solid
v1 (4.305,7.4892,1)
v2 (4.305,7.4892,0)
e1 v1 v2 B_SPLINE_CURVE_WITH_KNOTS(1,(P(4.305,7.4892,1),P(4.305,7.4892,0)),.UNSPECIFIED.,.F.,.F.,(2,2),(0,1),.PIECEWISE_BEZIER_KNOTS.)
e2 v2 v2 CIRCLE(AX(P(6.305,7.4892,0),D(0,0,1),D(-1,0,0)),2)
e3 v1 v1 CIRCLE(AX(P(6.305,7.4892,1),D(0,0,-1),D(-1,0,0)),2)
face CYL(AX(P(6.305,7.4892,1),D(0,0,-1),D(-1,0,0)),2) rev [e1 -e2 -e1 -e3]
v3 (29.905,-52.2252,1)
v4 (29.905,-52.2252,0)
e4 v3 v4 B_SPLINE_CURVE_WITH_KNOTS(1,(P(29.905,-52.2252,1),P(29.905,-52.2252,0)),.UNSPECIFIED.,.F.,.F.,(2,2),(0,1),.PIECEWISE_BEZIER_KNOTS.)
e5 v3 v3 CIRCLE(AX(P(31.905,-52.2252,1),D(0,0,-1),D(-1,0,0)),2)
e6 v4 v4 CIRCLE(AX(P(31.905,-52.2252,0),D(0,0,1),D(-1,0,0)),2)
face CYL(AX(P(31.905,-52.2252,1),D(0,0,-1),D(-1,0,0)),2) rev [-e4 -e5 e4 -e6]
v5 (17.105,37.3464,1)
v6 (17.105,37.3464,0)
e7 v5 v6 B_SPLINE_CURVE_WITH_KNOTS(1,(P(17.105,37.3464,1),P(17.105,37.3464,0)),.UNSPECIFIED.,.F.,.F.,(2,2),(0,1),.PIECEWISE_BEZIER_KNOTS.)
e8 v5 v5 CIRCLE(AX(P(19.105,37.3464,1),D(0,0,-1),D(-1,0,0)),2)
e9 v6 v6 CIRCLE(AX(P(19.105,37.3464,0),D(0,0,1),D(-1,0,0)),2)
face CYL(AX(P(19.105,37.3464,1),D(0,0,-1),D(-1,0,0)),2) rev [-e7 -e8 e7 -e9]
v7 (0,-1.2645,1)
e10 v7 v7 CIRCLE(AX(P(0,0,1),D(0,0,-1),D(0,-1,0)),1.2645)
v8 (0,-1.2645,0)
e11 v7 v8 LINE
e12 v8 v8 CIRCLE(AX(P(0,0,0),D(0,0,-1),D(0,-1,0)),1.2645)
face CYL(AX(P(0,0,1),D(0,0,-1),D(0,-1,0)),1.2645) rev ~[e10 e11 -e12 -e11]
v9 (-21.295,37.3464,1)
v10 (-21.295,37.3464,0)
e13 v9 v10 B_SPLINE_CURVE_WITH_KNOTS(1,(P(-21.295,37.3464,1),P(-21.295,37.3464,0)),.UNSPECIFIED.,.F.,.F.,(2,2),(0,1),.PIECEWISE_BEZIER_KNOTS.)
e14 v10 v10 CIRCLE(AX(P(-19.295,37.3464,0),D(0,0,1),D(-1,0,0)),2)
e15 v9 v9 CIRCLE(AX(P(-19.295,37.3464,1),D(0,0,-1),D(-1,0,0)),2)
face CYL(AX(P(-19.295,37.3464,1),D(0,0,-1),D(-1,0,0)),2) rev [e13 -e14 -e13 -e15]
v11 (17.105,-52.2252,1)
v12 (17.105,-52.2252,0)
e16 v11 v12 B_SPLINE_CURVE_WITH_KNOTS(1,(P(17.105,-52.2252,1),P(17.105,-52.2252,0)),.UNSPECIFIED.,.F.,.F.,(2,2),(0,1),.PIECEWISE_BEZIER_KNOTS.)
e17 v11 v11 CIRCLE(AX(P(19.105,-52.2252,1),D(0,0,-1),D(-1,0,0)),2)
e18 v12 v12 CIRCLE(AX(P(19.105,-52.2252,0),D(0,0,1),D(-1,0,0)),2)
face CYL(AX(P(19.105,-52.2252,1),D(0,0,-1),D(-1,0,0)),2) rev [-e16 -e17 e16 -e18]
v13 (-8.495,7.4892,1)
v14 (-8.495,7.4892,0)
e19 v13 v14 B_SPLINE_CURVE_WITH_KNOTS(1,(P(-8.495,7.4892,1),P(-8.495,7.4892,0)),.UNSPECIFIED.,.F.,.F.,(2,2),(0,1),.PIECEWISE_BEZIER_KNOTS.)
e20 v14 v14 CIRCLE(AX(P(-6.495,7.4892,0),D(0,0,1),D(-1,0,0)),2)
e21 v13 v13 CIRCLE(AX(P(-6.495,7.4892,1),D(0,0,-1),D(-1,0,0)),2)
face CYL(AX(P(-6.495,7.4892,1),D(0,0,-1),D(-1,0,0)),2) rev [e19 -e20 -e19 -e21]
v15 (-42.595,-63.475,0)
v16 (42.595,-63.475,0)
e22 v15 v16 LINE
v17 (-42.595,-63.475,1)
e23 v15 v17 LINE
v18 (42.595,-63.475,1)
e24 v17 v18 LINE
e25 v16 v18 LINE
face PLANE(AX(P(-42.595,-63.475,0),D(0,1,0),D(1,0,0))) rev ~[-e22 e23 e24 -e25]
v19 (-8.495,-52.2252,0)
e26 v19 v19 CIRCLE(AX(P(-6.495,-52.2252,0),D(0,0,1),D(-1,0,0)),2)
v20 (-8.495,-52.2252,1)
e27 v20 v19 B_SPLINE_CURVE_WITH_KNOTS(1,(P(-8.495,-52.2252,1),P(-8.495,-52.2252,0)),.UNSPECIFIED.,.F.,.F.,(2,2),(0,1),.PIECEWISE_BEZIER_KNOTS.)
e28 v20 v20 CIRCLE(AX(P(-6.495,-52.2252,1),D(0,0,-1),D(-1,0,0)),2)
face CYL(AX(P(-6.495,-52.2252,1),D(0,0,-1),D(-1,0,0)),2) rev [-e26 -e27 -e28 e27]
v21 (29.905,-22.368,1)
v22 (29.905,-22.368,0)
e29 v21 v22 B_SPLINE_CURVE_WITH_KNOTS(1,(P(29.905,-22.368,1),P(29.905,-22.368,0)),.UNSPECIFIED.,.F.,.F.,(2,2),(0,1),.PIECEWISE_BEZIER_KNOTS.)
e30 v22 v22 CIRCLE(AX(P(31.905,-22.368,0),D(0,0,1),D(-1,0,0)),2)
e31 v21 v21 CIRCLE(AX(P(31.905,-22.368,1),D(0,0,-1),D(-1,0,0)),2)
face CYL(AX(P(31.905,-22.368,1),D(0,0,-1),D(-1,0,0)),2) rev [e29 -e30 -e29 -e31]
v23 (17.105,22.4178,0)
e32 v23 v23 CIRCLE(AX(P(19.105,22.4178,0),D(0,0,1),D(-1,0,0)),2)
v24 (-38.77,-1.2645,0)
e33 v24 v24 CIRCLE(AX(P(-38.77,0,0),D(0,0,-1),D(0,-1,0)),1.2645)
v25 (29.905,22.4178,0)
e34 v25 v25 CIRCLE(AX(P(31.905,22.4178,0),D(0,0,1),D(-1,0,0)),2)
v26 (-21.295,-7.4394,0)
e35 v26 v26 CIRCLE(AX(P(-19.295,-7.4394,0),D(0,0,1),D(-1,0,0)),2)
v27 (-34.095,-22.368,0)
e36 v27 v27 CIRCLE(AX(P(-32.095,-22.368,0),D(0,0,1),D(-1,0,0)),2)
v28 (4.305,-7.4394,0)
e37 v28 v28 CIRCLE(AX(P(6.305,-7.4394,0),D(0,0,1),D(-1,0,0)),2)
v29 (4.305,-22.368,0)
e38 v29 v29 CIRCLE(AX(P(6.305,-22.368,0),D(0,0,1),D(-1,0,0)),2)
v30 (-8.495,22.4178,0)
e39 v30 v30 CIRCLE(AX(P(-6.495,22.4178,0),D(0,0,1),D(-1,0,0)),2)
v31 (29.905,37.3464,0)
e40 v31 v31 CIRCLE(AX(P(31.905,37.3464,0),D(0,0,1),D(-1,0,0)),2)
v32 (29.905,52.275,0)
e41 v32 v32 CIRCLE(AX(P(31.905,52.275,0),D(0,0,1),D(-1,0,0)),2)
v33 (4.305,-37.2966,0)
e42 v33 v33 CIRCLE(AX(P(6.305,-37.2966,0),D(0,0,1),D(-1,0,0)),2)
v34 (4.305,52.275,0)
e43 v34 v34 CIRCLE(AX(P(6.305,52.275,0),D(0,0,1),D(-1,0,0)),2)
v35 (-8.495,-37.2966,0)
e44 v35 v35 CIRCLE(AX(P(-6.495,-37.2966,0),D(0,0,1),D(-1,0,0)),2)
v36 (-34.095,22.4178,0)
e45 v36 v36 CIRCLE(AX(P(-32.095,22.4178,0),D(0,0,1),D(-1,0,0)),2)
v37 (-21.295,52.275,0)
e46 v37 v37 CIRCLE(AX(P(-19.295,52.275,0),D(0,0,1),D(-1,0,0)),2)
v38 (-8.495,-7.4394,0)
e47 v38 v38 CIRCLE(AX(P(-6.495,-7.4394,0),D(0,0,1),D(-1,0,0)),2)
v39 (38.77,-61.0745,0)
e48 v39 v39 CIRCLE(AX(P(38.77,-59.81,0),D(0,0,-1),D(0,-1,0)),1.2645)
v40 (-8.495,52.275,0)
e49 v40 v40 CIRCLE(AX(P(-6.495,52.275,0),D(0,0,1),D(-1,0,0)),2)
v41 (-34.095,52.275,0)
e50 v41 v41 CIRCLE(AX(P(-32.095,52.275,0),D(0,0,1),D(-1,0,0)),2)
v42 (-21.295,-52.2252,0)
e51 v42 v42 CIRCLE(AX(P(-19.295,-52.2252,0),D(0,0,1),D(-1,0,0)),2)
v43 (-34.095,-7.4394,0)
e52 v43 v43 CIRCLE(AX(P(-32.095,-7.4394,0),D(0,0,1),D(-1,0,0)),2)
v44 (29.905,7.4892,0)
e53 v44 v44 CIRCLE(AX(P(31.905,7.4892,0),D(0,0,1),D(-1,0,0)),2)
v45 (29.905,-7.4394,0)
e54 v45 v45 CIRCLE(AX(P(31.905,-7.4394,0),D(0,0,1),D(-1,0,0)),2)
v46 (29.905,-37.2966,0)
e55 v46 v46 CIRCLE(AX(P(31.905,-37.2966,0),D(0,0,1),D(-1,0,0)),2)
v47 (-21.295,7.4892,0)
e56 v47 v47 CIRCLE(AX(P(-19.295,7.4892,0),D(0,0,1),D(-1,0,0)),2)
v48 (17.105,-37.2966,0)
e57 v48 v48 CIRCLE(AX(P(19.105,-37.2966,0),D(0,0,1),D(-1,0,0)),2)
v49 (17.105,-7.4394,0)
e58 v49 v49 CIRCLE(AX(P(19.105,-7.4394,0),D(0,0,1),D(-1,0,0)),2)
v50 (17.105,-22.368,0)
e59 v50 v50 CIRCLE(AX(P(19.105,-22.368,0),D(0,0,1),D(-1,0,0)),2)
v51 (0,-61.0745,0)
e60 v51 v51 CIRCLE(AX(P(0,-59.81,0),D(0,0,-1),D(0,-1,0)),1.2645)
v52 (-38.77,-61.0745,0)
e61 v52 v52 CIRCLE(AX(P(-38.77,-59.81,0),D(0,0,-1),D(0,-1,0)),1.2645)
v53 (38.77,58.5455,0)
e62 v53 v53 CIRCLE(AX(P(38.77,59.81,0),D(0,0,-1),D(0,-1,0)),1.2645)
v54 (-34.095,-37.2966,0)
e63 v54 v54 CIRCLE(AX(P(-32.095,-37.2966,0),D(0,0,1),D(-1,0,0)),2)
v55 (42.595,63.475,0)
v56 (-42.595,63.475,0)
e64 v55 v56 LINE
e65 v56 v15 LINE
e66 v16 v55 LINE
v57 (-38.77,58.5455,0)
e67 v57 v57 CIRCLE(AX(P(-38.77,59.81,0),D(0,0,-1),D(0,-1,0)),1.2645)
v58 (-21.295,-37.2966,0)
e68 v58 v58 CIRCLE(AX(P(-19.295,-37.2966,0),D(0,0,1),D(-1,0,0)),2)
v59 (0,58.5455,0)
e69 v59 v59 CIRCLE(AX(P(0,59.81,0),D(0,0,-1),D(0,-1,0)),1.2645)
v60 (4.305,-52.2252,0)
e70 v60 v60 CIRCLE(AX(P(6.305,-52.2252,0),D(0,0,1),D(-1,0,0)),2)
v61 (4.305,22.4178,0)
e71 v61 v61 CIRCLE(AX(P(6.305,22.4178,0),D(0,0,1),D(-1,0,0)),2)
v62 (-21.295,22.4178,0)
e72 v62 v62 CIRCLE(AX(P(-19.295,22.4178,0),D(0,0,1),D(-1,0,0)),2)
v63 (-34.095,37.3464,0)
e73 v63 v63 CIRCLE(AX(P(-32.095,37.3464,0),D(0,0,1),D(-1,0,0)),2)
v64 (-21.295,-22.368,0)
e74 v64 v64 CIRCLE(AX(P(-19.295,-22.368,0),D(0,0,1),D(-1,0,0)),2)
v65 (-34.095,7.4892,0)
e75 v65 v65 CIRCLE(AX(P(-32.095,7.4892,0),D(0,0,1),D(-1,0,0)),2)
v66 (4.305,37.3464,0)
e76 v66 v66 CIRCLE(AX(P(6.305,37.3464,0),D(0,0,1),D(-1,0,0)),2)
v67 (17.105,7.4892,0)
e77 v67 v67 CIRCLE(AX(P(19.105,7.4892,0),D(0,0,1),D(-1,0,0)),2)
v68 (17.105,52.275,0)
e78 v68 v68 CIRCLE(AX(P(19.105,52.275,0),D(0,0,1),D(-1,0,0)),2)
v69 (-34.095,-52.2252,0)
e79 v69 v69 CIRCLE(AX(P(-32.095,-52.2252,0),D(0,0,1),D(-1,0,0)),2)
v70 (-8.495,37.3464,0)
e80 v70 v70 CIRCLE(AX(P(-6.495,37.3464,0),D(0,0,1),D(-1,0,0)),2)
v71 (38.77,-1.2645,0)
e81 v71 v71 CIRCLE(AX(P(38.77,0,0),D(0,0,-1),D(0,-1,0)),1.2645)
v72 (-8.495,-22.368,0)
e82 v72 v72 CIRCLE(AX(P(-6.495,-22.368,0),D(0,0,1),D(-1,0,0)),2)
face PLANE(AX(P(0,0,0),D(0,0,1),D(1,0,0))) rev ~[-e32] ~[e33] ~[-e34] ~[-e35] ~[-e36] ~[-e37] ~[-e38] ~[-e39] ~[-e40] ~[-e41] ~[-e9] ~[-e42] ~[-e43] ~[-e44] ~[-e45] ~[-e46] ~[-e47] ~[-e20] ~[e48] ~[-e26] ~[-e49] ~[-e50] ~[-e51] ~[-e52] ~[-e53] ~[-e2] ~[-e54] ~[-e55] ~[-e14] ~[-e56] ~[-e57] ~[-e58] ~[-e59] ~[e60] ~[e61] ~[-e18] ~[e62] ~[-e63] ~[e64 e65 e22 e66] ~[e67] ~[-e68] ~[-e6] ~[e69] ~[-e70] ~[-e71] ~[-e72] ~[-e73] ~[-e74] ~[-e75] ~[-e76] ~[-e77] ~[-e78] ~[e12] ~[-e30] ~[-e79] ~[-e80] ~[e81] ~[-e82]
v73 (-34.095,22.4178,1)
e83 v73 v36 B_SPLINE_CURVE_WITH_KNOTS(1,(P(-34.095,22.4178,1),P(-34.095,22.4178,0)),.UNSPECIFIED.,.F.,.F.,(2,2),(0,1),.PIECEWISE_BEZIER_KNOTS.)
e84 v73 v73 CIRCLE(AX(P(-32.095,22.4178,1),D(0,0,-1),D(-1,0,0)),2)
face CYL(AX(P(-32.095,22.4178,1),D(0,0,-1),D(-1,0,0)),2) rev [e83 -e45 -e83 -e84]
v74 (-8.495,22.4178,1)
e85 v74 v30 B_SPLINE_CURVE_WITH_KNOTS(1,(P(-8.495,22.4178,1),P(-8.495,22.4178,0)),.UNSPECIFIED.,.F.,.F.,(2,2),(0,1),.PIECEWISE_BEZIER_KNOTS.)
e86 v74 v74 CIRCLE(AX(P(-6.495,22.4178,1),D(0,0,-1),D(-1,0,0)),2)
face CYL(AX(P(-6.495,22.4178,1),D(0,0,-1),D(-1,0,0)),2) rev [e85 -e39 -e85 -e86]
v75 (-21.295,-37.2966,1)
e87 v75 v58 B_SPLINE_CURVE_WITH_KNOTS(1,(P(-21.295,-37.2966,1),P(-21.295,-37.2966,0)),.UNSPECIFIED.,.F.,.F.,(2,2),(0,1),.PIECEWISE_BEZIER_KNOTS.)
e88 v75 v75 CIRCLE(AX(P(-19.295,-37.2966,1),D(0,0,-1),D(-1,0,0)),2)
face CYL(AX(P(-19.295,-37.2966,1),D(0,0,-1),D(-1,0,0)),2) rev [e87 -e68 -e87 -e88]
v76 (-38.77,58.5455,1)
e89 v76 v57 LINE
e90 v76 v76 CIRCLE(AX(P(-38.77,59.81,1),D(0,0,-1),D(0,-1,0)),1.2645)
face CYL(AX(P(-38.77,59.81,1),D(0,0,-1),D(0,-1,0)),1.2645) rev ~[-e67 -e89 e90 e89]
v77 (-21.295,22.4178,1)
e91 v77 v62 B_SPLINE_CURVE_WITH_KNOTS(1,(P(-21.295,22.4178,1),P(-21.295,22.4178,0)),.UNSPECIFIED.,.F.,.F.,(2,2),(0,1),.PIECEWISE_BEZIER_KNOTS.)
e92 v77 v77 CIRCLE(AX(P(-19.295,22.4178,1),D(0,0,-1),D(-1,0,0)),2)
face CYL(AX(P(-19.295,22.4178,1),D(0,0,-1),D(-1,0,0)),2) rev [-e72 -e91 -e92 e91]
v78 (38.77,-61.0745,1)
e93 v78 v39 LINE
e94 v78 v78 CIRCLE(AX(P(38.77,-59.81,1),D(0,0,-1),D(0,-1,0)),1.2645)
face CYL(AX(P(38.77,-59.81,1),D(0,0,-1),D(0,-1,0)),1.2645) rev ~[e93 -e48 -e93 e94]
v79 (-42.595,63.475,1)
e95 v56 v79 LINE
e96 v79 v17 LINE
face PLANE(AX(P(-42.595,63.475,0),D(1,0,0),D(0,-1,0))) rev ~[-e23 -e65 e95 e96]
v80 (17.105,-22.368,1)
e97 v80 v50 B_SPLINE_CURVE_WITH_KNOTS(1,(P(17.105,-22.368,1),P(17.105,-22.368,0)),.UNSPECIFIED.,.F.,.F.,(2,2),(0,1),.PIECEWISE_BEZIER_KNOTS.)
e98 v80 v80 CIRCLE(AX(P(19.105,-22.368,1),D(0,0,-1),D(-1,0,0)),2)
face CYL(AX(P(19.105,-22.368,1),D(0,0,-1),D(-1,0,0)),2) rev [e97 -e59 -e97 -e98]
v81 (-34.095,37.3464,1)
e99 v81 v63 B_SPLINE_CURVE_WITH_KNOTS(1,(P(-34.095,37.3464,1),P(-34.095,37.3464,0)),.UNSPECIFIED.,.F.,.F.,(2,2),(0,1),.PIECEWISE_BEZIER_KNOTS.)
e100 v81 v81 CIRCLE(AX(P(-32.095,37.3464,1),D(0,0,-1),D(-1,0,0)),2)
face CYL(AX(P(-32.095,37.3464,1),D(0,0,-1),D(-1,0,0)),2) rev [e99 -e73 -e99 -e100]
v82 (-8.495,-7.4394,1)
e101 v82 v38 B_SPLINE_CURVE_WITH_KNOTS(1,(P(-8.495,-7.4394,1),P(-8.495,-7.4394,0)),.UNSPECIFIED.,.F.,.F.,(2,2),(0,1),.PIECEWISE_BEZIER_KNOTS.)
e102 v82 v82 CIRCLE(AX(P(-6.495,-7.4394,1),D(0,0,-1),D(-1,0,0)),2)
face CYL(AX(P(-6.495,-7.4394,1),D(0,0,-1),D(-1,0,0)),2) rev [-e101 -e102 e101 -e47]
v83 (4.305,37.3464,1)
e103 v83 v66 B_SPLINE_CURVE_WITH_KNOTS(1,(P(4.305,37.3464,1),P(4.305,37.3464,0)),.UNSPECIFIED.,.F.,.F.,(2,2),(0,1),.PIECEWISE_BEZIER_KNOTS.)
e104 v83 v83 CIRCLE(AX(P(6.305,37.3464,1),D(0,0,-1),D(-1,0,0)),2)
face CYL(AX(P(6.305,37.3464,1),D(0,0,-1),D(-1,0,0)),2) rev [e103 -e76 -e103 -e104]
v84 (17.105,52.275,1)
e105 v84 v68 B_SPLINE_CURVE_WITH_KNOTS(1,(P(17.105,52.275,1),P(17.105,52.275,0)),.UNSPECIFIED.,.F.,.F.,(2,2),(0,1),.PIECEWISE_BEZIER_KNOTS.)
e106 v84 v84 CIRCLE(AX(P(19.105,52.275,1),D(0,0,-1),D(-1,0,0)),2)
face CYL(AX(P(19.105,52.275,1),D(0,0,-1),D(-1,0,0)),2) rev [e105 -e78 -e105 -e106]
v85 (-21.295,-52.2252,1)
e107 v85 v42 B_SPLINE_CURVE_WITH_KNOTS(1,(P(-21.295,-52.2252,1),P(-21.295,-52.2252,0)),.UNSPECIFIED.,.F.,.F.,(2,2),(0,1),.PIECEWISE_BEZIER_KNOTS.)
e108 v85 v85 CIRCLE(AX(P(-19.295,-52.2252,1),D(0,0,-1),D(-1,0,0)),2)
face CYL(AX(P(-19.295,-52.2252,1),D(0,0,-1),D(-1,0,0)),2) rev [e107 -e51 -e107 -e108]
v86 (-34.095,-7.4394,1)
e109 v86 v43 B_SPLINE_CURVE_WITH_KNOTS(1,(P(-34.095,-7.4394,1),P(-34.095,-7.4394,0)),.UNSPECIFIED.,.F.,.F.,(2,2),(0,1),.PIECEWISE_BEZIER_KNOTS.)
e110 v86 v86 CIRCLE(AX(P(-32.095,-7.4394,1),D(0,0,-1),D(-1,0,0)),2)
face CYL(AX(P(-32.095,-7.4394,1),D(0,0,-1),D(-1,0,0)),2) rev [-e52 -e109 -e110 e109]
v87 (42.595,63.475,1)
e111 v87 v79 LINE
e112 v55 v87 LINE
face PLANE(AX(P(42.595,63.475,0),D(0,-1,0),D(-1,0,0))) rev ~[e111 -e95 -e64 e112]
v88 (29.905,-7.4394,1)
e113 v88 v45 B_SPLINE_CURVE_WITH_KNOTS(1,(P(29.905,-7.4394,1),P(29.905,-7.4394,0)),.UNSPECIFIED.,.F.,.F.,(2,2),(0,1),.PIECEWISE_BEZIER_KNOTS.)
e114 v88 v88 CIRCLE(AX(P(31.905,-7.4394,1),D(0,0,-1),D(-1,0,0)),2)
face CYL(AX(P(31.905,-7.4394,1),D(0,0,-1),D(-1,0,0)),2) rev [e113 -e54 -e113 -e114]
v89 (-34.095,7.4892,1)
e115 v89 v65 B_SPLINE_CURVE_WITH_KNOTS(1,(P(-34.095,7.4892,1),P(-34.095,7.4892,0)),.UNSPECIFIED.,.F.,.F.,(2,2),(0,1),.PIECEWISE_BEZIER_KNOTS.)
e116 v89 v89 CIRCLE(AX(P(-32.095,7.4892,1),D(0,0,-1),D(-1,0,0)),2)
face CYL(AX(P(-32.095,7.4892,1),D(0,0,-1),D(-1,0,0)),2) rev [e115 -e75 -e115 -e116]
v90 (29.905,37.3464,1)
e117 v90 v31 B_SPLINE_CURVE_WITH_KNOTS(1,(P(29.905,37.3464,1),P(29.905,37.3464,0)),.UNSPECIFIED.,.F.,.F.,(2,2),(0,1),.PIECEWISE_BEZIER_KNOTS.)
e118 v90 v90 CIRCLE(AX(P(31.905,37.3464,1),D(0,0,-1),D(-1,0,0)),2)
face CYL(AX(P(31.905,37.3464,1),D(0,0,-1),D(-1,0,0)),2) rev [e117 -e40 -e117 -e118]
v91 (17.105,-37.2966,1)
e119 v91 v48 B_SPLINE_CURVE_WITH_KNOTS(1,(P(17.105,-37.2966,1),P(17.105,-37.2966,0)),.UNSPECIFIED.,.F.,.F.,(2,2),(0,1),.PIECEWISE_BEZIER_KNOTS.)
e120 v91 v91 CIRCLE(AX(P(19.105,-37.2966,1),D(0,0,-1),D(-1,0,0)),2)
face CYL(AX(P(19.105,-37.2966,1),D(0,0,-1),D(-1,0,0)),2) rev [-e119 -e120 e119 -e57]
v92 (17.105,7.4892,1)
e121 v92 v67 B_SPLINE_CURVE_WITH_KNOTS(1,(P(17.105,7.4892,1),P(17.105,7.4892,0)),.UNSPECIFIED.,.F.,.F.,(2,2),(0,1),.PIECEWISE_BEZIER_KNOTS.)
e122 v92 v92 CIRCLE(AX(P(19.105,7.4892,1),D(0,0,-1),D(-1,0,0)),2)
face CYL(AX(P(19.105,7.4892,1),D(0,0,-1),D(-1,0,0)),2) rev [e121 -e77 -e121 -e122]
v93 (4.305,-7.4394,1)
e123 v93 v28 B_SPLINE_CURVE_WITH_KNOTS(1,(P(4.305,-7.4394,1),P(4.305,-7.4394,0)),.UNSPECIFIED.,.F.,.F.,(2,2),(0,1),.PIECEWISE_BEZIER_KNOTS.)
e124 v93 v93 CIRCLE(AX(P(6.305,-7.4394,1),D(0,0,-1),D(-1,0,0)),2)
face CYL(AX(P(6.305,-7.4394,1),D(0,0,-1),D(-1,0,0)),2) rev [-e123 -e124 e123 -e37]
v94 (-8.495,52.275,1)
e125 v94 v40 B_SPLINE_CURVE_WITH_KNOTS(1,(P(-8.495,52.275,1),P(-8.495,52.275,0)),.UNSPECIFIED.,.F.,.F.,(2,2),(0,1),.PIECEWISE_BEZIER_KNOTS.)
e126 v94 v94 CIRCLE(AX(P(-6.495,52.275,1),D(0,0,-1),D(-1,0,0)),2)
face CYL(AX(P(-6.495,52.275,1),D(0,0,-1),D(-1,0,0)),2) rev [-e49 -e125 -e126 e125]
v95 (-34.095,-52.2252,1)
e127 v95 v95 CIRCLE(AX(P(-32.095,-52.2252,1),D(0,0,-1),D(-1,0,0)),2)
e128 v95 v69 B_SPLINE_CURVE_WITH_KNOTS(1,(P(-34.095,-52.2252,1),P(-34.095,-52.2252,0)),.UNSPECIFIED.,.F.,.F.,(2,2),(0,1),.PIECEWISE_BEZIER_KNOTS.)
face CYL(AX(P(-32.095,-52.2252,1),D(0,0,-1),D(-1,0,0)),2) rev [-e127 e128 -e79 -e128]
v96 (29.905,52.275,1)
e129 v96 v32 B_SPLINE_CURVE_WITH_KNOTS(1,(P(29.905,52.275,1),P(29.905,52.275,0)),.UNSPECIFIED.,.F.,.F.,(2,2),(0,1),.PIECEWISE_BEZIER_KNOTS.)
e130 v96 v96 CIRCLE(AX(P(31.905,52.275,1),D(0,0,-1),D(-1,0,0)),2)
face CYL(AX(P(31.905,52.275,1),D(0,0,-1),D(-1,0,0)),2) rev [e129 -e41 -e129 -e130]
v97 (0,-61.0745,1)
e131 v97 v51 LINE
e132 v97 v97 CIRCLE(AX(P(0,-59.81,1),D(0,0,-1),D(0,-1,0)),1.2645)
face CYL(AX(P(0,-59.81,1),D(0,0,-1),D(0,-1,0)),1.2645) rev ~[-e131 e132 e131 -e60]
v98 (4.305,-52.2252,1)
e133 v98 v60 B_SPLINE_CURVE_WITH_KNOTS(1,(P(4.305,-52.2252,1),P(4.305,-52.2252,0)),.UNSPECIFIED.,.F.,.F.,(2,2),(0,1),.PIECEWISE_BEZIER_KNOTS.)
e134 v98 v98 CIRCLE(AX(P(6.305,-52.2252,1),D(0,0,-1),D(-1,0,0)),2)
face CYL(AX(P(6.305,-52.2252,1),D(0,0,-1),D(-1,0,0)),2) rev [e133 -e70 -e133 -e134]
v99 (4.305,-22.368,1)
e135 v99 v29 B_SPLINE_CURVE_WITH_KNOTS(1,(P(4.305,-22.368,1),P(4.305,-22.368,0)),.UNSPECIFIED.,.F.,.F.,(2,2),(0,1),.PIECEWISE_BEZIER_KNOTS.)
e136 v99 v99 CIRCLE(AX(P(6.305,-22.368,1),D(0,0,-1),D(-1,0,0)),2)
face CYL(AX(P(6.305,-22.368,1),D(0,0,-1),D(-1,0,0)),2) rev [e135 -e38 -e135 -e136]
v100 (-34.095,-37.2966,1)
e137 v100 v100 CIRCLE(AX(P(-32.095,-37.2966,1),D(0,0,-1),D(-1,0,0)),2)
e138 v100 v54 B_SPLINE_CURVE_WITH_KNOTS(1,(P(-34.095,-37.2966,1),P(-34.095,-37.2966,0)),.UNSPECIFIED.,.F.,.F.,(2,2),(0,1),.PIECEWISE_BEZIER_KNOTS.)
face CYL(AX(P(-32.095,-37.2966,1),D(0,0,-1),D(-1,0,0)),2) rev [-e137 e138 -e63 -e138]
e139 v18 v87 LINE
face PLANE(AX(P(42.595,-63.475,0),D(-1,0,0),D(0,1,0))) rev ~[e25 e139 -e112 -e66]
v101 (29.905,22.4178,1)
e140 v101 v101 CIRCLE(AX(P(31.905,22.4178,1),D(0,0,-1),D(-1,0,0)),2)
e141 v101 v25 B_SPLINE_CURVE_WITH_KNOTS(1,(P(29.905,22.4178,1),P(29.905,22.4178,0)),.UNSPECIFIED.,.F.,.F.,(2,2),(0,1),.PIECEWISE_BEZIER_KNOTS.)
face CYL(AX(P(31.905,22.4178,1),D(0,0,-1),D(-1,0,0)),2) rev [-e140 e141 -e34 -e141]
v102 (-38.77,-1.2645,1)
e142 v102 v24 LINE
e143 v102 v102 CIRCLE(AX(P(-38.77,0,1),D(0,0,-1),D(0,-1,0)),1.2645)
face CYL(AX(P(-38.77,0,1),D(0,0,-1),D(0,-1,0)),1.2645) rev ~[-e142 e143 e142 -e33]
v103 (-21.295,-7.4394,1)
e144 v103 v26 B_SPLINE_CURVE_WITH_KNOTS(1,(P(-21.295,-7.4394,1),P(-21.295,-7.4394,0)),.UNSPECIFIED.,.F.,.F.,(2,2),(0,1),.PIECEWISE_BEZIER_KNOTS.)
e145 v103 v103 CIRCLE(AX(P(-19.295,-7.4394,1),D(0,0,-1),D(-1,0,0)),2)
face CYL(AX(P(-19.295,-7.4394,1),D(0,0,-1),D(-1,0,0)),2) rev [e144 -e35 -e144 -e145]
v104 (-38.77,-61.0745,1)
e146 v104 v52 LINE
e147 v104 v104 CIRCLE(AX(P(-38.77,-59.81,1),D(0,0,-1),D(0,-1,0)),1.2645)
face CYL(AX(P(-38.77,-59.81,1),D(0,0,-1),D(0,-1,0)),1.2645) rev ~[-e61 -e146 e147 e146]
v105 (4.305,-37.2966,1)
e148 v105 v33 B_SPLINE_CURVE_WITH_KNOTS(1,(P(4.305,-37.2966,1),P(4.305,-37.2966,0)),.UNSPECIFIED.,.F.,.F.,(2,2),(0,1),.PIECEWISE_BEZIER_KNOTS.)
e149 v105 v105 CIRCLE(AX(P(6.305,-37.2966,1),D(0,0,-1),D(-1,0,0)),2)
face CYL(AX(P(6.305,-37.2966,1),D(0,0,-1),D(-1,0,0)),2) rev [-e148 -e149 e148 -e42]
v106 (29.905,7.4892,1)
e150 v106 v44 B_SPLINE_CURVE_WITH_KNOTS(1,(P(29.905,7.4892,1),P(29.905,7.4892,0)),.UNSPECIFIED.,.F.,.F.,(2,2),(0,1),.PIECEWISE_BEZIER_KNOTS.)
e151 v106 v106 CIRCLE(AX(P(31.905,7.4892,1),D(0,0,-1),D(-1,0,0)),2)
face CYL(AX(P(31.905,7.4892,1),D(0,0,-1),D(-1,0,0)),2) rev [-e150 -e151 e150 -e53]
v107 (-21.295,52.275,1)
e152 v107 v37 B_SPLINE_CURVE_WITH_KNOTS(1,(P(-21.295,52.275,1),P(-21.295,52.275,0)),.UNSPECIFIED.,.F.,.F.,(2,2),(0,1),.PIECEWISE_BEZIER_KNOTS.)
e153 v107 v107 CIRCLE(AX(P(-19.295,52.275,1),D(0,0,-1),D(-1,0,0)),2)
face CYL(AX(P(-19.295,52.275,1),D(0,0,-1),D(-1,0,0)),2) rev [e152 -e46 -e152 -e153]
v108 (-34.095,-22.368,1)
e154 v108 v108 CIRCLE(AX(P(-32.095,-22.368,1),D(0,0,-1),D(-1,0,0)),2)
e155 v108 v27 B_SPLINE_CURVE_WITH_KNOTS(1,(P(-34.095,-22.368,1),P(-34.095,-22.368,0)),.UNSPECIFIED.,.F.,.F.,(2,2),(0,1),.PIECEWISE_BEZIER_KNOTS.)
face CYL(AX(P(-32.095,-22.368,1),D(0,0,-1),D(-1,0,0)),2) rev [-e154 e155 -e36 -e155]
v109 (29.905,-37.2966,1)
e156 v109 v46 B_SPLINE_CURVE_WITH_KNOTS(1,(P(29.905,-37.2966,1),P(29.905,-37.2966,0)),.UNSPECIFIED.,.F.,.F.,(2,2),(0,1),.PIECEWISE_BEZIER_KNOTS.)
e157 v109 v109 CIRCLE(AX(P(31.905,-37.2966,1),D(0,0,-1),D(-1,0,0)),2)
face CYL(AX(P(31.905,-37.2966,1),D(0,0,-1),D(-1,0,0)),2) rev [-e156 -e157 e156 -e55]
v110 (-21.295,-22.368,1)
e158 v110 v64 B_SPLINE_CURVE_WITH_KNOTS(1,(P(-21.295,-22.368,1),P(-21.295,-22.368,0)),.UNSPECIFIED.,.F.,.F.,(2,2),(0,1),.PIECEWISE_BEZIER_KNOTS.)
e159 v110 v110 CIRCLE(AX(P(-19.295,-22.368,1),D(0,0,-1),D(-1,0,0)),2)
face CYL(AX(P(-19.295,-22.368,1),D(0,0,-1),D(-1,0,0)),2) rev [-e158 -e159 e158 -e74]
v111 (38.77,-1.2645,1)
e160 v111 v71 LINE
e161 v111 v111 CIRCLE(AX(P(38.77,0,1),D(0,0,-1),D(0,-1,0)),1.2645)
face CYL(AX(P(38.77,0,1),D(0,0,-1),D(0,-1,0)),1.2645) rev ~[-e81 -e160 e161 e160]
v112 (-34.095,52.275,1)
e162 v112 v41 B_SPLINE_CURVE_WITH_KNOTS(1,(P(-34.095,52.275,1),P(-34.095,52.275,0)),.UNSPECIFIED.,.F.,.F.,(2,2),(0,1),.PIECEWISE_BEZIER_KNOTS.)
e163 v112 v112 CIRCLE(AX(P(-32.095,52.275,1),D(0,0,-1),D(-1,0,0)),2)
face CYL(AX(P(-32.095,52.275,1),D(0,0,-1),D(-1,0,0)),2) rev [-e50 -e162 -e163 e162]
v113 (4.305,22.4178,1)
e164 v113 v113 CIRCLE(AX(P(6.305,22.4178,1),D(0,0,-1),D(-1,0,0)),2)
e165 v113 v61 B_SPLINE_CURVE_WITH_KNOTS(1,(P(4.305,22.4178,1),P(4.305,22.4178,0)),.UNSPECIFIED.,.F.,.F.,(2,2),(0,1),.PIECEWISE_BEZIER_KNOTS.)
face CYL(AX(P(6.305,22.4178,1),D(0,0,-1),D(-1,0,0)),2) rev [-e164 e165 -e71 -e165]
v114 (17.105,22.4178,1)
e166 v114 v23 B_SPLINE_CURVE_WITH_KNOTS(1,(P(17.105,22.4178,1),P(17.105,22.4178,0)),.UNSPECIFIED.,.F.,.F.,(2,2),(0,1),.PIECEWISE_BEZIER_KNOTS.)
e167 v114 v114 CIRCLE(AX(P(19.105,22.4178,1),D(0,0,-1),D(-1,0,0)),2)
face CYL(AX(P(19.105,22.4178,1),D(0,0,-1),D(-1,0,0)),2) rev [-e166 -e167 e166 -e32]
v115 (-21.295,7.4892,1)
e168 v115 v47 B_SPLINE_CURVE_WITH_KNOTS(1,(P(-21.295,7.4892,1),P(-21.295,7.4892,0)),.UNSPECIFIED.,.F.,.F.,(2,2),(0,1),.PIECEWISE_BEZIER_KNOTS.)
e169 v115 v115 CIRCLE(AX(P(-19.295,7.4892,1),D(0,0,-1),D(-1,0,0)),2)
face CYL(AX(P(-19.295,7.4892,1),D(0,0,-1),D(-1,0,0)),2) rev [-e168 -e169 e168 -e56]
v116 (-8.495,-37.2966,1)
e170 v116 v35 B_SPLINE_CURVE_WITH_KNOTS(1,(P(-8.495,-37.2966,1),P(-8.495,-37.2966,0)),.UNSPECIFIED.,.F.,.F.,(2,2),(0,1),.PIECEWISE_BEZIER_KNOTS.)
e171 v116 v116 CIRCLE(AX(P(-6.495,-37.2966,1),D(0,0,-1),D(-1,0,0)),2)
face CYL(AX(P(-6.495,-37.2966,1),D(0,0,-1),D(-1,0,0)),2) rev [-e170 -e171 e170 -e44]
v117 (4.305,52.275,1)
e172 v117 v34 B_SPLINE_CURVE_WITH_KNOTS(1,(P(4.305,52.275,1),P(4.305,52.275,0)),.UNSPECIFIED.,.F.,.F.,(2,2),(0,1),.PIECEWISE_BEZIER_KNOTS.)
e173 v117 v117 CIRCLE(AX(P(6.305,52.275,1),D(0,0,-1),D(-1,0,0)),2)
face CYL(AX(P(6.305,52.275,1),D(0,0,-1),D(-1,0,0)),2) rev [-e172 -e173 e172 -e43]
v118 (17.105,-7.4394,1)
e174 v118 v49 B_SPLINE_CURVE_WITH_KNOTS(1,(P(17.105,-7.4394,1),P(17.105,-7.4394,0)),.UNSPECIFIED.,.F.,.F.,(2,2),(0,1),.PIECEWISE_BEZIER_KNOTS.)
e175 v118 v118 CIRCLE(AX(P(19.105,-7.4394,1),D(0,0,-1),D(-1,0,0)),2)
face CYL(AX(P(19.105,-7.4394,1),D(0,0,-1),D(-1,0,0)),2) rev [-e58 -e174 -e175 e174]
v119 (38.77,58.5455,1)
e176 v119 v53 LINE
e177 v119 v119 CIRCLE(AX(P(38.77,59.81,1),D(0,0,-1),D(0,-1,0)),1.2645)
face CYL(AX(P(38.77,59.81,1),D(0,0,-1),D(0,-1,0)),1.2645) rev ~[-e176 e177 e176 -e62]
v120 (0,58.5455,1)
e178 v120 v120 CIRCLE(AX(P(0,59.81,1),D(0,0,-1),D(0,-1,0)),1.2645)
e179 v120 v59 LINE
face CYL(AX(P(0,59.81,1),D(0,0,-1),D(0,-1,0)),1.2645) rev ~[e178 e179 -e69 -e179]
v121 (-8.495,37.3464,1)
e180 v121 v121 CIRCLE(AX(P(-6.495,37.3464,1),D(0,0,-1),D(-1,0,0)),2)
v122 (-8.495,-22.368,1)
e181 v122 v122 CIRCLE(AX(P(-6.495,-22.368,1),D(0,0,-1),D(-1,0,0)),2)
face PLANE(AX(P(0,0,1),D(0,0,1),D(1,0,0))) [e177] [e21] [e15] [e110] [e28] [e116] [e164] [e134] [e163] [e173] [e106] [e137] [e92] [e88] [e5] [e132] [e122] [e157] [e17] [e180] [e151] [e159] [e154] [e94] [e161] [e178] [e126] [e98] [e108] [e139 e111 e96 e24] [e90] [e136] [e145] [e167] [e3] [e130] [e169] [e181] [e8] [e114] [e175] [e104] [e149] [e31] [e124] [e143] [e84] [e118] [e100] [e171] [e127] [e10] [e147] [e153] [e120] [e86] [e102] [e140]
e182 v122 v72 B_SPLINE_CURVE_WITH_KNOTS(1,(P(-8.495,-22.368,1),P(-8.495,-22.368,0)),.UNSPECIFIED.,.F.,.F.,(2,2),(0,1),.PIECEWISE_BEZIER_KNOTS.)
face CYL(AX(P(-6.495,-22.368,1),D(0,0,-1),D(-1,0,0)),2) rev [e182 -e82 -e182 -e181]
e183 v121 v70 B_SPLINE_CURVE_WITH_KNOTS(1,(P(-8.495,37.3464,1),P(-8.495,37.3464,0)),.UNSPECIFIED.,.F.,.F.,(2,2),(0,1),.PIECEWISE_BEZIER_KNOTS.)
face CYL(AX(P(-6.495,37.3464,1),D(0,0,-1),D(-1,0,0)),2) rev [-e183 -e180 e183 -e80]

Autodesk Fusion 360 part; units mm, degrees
sketch "Sketch1" plane through (0, 0, 0) normal (0, 0, 1) x (1, 0, 0)
  line L0 (42.595, 63.475) -> (-42.595, 63.475)
  line L1 (-42.595, 63.475) -> (-42.595, -63.475)
  line L2 (-42.595, -63.475) -> (42.595, -63.475)
  line L3 (42.595, -63.475) -> (42.595, 63.475)
  line L4 (42.595, 63.475) -> (-42.595, -63.475) construction
  line L5 (-42.595, 63.475) -> (42.595, -63.475) construction
  line L6 (37.095, 57.275) -> (-37.095, 57.275)
  line L7 (-37.095, 57.275) -> (-37.095, -57.275)
  line L8 (-37.095, -57.275) -> (37.095, -57.275)
  line L9 (37.095, -57.275) -> (37.095, 57.275)
  line L10 (37.095, 57.275) -> (-37.095, -57.275) construction
  line L11 (-37.095, 57.275) -> (37.095, -57.275) construction
  line L12 (34.095, 54.275) -> (-34.095, 54.275)
  line L13 (-34.095, 54.275) -> (-34.095, -54.275)
  line L14 (-34.095, -54.275) -> (34.095, -54.275)
  line L15 (34.095, -54.275) -> (34.095, 54.275)
  line L16 (34.095, 54.275) -> (-34.095, -54.275) construction
  line L17 (-34.095, 54.275) -> (34.095, -54.275) construction
  dimension "d1" = 85.19
  dimension "d2" = 126.95
  dimension "d3" = 74.19
  dimension "d4" = 114.55
  dimension "d5" = 68.19
  dimension "d6" = 108.55
sketch "Sketch2" plane through (0, 0, 0) normal (0, 0, 1) x (1, 0, 0)
sketch "Sketch3" plane through (0, 0, 0) normal (0, 0, 1) x (1, 0, 0)
  line L0 (34.095, 54.275) -> (-34.095, 54.275)
  line L1 (-34.095, 54.275) -> (-34.095, -54.275)
  circle A0 centre (-32.095, 52.275) radius 2
  dimension "d7" = 2
extrude "Extrude1" add sketch "Sketch1" along normal blind 1 contours L0 L1 L2 L3 | L6 L7 L8 L9 | L12 L13 L14 L15
sketch "Sketch4" plane through (0, 0, 0) normal (0, 0, 1) x (1, 0, 0)
sketch "Sketch5" plane through (0, 0, 1) normal (0, 0, 1) x (-1, 0, 0)
  line L0 (-42.595, 63.475) -> (-42.595, -63.475)
  line L1 (-42.595, -63.475) -> (42.595, -63.475)
  line L2 (42.595, -63.475) -> (42.595, 63.475)
  line L3 (42.595, 63.475) -> (-42.595, 63.475)
  line L4 (-34.095, 54.275) -> (34.095, 54.275)
  line L5 (34.095, 54.275) -> (34.095, -54.275)
  line L6 (34.095, -54.275) -> (-34.095, -54.275)
  line L7 (-34.095, -54.275) -> (-34.095, 54.275)
  line L8 (-34.095, 54.275) -> (34.095, -54.275) construction
  line L9 (34.095, 54.275) -> (-34.095, -54.275) construction
  circle A0 centre (32.095, -52.275) radius 2
  dimension "d10" = 68.19
  dimension "d11" = 108.55
  dimension "d12" = 2
loft "Loft1" cut profiles "Sketch5", "Sketch3" section 1 contours A0 section 2 contours A0
pattern_linear "R-Pattern1" count 6 spacing 12.8 along (1, 0, 0) count 8 spacing 14.9286 along (0, -1, 0) of "Loft1"
sketch "Sketch6" plane through (0, 0, 1) normal (0, 0, 1) x (-1, 0, 0)
  circle A0 centre (0, 0) radius 1.5
  circle A1 centre (0, -59.81) radius 1.5
  circle A2 centre (0, 59.81) radius 1.5
  circle A3 centre (38.77, -59.81) radius 1.5
  circle A4 centre (38.77, 0) radius 1.5
  circle A5 centre (38.77, 59.81) radius 1.5
  circle A6 centre (-38.77, 0) radius 1.5
  circle A7 centre (-38.77, 59.81) radius 1.5
  circle A8 centre (-38.77, -59.81) radius 1.5
  dimension "d17" = 3
  dimension "d18" = 59.81
  dimension "d19" = 3
  dimension "d20" = 59.81
  dimension "d21" = 3
  dimension "d23" = 3
  dimension "d24" = 3
  dimension "d25" = 59.81
  dimension "d26" = 3
  dimension "d28" = 3
  dimension "d29" = 3
  dimension "d30" = 59.81
  dimension "d31" = 3
hole "Hole1" at (-38.77, 59.81, 1) at (0, 59.81, 1) at (38.77, 59.81, 1) at (38.77, 0, 1) at (-38.77, 0, 1) at (-38.77, -59.81, 1) at (0, -59.81, 1) at (38.77, -59.81, 1) at (0, 0, 1) direction (0, 0, -1) diameter 2.529 depth 14 tip angle 180
